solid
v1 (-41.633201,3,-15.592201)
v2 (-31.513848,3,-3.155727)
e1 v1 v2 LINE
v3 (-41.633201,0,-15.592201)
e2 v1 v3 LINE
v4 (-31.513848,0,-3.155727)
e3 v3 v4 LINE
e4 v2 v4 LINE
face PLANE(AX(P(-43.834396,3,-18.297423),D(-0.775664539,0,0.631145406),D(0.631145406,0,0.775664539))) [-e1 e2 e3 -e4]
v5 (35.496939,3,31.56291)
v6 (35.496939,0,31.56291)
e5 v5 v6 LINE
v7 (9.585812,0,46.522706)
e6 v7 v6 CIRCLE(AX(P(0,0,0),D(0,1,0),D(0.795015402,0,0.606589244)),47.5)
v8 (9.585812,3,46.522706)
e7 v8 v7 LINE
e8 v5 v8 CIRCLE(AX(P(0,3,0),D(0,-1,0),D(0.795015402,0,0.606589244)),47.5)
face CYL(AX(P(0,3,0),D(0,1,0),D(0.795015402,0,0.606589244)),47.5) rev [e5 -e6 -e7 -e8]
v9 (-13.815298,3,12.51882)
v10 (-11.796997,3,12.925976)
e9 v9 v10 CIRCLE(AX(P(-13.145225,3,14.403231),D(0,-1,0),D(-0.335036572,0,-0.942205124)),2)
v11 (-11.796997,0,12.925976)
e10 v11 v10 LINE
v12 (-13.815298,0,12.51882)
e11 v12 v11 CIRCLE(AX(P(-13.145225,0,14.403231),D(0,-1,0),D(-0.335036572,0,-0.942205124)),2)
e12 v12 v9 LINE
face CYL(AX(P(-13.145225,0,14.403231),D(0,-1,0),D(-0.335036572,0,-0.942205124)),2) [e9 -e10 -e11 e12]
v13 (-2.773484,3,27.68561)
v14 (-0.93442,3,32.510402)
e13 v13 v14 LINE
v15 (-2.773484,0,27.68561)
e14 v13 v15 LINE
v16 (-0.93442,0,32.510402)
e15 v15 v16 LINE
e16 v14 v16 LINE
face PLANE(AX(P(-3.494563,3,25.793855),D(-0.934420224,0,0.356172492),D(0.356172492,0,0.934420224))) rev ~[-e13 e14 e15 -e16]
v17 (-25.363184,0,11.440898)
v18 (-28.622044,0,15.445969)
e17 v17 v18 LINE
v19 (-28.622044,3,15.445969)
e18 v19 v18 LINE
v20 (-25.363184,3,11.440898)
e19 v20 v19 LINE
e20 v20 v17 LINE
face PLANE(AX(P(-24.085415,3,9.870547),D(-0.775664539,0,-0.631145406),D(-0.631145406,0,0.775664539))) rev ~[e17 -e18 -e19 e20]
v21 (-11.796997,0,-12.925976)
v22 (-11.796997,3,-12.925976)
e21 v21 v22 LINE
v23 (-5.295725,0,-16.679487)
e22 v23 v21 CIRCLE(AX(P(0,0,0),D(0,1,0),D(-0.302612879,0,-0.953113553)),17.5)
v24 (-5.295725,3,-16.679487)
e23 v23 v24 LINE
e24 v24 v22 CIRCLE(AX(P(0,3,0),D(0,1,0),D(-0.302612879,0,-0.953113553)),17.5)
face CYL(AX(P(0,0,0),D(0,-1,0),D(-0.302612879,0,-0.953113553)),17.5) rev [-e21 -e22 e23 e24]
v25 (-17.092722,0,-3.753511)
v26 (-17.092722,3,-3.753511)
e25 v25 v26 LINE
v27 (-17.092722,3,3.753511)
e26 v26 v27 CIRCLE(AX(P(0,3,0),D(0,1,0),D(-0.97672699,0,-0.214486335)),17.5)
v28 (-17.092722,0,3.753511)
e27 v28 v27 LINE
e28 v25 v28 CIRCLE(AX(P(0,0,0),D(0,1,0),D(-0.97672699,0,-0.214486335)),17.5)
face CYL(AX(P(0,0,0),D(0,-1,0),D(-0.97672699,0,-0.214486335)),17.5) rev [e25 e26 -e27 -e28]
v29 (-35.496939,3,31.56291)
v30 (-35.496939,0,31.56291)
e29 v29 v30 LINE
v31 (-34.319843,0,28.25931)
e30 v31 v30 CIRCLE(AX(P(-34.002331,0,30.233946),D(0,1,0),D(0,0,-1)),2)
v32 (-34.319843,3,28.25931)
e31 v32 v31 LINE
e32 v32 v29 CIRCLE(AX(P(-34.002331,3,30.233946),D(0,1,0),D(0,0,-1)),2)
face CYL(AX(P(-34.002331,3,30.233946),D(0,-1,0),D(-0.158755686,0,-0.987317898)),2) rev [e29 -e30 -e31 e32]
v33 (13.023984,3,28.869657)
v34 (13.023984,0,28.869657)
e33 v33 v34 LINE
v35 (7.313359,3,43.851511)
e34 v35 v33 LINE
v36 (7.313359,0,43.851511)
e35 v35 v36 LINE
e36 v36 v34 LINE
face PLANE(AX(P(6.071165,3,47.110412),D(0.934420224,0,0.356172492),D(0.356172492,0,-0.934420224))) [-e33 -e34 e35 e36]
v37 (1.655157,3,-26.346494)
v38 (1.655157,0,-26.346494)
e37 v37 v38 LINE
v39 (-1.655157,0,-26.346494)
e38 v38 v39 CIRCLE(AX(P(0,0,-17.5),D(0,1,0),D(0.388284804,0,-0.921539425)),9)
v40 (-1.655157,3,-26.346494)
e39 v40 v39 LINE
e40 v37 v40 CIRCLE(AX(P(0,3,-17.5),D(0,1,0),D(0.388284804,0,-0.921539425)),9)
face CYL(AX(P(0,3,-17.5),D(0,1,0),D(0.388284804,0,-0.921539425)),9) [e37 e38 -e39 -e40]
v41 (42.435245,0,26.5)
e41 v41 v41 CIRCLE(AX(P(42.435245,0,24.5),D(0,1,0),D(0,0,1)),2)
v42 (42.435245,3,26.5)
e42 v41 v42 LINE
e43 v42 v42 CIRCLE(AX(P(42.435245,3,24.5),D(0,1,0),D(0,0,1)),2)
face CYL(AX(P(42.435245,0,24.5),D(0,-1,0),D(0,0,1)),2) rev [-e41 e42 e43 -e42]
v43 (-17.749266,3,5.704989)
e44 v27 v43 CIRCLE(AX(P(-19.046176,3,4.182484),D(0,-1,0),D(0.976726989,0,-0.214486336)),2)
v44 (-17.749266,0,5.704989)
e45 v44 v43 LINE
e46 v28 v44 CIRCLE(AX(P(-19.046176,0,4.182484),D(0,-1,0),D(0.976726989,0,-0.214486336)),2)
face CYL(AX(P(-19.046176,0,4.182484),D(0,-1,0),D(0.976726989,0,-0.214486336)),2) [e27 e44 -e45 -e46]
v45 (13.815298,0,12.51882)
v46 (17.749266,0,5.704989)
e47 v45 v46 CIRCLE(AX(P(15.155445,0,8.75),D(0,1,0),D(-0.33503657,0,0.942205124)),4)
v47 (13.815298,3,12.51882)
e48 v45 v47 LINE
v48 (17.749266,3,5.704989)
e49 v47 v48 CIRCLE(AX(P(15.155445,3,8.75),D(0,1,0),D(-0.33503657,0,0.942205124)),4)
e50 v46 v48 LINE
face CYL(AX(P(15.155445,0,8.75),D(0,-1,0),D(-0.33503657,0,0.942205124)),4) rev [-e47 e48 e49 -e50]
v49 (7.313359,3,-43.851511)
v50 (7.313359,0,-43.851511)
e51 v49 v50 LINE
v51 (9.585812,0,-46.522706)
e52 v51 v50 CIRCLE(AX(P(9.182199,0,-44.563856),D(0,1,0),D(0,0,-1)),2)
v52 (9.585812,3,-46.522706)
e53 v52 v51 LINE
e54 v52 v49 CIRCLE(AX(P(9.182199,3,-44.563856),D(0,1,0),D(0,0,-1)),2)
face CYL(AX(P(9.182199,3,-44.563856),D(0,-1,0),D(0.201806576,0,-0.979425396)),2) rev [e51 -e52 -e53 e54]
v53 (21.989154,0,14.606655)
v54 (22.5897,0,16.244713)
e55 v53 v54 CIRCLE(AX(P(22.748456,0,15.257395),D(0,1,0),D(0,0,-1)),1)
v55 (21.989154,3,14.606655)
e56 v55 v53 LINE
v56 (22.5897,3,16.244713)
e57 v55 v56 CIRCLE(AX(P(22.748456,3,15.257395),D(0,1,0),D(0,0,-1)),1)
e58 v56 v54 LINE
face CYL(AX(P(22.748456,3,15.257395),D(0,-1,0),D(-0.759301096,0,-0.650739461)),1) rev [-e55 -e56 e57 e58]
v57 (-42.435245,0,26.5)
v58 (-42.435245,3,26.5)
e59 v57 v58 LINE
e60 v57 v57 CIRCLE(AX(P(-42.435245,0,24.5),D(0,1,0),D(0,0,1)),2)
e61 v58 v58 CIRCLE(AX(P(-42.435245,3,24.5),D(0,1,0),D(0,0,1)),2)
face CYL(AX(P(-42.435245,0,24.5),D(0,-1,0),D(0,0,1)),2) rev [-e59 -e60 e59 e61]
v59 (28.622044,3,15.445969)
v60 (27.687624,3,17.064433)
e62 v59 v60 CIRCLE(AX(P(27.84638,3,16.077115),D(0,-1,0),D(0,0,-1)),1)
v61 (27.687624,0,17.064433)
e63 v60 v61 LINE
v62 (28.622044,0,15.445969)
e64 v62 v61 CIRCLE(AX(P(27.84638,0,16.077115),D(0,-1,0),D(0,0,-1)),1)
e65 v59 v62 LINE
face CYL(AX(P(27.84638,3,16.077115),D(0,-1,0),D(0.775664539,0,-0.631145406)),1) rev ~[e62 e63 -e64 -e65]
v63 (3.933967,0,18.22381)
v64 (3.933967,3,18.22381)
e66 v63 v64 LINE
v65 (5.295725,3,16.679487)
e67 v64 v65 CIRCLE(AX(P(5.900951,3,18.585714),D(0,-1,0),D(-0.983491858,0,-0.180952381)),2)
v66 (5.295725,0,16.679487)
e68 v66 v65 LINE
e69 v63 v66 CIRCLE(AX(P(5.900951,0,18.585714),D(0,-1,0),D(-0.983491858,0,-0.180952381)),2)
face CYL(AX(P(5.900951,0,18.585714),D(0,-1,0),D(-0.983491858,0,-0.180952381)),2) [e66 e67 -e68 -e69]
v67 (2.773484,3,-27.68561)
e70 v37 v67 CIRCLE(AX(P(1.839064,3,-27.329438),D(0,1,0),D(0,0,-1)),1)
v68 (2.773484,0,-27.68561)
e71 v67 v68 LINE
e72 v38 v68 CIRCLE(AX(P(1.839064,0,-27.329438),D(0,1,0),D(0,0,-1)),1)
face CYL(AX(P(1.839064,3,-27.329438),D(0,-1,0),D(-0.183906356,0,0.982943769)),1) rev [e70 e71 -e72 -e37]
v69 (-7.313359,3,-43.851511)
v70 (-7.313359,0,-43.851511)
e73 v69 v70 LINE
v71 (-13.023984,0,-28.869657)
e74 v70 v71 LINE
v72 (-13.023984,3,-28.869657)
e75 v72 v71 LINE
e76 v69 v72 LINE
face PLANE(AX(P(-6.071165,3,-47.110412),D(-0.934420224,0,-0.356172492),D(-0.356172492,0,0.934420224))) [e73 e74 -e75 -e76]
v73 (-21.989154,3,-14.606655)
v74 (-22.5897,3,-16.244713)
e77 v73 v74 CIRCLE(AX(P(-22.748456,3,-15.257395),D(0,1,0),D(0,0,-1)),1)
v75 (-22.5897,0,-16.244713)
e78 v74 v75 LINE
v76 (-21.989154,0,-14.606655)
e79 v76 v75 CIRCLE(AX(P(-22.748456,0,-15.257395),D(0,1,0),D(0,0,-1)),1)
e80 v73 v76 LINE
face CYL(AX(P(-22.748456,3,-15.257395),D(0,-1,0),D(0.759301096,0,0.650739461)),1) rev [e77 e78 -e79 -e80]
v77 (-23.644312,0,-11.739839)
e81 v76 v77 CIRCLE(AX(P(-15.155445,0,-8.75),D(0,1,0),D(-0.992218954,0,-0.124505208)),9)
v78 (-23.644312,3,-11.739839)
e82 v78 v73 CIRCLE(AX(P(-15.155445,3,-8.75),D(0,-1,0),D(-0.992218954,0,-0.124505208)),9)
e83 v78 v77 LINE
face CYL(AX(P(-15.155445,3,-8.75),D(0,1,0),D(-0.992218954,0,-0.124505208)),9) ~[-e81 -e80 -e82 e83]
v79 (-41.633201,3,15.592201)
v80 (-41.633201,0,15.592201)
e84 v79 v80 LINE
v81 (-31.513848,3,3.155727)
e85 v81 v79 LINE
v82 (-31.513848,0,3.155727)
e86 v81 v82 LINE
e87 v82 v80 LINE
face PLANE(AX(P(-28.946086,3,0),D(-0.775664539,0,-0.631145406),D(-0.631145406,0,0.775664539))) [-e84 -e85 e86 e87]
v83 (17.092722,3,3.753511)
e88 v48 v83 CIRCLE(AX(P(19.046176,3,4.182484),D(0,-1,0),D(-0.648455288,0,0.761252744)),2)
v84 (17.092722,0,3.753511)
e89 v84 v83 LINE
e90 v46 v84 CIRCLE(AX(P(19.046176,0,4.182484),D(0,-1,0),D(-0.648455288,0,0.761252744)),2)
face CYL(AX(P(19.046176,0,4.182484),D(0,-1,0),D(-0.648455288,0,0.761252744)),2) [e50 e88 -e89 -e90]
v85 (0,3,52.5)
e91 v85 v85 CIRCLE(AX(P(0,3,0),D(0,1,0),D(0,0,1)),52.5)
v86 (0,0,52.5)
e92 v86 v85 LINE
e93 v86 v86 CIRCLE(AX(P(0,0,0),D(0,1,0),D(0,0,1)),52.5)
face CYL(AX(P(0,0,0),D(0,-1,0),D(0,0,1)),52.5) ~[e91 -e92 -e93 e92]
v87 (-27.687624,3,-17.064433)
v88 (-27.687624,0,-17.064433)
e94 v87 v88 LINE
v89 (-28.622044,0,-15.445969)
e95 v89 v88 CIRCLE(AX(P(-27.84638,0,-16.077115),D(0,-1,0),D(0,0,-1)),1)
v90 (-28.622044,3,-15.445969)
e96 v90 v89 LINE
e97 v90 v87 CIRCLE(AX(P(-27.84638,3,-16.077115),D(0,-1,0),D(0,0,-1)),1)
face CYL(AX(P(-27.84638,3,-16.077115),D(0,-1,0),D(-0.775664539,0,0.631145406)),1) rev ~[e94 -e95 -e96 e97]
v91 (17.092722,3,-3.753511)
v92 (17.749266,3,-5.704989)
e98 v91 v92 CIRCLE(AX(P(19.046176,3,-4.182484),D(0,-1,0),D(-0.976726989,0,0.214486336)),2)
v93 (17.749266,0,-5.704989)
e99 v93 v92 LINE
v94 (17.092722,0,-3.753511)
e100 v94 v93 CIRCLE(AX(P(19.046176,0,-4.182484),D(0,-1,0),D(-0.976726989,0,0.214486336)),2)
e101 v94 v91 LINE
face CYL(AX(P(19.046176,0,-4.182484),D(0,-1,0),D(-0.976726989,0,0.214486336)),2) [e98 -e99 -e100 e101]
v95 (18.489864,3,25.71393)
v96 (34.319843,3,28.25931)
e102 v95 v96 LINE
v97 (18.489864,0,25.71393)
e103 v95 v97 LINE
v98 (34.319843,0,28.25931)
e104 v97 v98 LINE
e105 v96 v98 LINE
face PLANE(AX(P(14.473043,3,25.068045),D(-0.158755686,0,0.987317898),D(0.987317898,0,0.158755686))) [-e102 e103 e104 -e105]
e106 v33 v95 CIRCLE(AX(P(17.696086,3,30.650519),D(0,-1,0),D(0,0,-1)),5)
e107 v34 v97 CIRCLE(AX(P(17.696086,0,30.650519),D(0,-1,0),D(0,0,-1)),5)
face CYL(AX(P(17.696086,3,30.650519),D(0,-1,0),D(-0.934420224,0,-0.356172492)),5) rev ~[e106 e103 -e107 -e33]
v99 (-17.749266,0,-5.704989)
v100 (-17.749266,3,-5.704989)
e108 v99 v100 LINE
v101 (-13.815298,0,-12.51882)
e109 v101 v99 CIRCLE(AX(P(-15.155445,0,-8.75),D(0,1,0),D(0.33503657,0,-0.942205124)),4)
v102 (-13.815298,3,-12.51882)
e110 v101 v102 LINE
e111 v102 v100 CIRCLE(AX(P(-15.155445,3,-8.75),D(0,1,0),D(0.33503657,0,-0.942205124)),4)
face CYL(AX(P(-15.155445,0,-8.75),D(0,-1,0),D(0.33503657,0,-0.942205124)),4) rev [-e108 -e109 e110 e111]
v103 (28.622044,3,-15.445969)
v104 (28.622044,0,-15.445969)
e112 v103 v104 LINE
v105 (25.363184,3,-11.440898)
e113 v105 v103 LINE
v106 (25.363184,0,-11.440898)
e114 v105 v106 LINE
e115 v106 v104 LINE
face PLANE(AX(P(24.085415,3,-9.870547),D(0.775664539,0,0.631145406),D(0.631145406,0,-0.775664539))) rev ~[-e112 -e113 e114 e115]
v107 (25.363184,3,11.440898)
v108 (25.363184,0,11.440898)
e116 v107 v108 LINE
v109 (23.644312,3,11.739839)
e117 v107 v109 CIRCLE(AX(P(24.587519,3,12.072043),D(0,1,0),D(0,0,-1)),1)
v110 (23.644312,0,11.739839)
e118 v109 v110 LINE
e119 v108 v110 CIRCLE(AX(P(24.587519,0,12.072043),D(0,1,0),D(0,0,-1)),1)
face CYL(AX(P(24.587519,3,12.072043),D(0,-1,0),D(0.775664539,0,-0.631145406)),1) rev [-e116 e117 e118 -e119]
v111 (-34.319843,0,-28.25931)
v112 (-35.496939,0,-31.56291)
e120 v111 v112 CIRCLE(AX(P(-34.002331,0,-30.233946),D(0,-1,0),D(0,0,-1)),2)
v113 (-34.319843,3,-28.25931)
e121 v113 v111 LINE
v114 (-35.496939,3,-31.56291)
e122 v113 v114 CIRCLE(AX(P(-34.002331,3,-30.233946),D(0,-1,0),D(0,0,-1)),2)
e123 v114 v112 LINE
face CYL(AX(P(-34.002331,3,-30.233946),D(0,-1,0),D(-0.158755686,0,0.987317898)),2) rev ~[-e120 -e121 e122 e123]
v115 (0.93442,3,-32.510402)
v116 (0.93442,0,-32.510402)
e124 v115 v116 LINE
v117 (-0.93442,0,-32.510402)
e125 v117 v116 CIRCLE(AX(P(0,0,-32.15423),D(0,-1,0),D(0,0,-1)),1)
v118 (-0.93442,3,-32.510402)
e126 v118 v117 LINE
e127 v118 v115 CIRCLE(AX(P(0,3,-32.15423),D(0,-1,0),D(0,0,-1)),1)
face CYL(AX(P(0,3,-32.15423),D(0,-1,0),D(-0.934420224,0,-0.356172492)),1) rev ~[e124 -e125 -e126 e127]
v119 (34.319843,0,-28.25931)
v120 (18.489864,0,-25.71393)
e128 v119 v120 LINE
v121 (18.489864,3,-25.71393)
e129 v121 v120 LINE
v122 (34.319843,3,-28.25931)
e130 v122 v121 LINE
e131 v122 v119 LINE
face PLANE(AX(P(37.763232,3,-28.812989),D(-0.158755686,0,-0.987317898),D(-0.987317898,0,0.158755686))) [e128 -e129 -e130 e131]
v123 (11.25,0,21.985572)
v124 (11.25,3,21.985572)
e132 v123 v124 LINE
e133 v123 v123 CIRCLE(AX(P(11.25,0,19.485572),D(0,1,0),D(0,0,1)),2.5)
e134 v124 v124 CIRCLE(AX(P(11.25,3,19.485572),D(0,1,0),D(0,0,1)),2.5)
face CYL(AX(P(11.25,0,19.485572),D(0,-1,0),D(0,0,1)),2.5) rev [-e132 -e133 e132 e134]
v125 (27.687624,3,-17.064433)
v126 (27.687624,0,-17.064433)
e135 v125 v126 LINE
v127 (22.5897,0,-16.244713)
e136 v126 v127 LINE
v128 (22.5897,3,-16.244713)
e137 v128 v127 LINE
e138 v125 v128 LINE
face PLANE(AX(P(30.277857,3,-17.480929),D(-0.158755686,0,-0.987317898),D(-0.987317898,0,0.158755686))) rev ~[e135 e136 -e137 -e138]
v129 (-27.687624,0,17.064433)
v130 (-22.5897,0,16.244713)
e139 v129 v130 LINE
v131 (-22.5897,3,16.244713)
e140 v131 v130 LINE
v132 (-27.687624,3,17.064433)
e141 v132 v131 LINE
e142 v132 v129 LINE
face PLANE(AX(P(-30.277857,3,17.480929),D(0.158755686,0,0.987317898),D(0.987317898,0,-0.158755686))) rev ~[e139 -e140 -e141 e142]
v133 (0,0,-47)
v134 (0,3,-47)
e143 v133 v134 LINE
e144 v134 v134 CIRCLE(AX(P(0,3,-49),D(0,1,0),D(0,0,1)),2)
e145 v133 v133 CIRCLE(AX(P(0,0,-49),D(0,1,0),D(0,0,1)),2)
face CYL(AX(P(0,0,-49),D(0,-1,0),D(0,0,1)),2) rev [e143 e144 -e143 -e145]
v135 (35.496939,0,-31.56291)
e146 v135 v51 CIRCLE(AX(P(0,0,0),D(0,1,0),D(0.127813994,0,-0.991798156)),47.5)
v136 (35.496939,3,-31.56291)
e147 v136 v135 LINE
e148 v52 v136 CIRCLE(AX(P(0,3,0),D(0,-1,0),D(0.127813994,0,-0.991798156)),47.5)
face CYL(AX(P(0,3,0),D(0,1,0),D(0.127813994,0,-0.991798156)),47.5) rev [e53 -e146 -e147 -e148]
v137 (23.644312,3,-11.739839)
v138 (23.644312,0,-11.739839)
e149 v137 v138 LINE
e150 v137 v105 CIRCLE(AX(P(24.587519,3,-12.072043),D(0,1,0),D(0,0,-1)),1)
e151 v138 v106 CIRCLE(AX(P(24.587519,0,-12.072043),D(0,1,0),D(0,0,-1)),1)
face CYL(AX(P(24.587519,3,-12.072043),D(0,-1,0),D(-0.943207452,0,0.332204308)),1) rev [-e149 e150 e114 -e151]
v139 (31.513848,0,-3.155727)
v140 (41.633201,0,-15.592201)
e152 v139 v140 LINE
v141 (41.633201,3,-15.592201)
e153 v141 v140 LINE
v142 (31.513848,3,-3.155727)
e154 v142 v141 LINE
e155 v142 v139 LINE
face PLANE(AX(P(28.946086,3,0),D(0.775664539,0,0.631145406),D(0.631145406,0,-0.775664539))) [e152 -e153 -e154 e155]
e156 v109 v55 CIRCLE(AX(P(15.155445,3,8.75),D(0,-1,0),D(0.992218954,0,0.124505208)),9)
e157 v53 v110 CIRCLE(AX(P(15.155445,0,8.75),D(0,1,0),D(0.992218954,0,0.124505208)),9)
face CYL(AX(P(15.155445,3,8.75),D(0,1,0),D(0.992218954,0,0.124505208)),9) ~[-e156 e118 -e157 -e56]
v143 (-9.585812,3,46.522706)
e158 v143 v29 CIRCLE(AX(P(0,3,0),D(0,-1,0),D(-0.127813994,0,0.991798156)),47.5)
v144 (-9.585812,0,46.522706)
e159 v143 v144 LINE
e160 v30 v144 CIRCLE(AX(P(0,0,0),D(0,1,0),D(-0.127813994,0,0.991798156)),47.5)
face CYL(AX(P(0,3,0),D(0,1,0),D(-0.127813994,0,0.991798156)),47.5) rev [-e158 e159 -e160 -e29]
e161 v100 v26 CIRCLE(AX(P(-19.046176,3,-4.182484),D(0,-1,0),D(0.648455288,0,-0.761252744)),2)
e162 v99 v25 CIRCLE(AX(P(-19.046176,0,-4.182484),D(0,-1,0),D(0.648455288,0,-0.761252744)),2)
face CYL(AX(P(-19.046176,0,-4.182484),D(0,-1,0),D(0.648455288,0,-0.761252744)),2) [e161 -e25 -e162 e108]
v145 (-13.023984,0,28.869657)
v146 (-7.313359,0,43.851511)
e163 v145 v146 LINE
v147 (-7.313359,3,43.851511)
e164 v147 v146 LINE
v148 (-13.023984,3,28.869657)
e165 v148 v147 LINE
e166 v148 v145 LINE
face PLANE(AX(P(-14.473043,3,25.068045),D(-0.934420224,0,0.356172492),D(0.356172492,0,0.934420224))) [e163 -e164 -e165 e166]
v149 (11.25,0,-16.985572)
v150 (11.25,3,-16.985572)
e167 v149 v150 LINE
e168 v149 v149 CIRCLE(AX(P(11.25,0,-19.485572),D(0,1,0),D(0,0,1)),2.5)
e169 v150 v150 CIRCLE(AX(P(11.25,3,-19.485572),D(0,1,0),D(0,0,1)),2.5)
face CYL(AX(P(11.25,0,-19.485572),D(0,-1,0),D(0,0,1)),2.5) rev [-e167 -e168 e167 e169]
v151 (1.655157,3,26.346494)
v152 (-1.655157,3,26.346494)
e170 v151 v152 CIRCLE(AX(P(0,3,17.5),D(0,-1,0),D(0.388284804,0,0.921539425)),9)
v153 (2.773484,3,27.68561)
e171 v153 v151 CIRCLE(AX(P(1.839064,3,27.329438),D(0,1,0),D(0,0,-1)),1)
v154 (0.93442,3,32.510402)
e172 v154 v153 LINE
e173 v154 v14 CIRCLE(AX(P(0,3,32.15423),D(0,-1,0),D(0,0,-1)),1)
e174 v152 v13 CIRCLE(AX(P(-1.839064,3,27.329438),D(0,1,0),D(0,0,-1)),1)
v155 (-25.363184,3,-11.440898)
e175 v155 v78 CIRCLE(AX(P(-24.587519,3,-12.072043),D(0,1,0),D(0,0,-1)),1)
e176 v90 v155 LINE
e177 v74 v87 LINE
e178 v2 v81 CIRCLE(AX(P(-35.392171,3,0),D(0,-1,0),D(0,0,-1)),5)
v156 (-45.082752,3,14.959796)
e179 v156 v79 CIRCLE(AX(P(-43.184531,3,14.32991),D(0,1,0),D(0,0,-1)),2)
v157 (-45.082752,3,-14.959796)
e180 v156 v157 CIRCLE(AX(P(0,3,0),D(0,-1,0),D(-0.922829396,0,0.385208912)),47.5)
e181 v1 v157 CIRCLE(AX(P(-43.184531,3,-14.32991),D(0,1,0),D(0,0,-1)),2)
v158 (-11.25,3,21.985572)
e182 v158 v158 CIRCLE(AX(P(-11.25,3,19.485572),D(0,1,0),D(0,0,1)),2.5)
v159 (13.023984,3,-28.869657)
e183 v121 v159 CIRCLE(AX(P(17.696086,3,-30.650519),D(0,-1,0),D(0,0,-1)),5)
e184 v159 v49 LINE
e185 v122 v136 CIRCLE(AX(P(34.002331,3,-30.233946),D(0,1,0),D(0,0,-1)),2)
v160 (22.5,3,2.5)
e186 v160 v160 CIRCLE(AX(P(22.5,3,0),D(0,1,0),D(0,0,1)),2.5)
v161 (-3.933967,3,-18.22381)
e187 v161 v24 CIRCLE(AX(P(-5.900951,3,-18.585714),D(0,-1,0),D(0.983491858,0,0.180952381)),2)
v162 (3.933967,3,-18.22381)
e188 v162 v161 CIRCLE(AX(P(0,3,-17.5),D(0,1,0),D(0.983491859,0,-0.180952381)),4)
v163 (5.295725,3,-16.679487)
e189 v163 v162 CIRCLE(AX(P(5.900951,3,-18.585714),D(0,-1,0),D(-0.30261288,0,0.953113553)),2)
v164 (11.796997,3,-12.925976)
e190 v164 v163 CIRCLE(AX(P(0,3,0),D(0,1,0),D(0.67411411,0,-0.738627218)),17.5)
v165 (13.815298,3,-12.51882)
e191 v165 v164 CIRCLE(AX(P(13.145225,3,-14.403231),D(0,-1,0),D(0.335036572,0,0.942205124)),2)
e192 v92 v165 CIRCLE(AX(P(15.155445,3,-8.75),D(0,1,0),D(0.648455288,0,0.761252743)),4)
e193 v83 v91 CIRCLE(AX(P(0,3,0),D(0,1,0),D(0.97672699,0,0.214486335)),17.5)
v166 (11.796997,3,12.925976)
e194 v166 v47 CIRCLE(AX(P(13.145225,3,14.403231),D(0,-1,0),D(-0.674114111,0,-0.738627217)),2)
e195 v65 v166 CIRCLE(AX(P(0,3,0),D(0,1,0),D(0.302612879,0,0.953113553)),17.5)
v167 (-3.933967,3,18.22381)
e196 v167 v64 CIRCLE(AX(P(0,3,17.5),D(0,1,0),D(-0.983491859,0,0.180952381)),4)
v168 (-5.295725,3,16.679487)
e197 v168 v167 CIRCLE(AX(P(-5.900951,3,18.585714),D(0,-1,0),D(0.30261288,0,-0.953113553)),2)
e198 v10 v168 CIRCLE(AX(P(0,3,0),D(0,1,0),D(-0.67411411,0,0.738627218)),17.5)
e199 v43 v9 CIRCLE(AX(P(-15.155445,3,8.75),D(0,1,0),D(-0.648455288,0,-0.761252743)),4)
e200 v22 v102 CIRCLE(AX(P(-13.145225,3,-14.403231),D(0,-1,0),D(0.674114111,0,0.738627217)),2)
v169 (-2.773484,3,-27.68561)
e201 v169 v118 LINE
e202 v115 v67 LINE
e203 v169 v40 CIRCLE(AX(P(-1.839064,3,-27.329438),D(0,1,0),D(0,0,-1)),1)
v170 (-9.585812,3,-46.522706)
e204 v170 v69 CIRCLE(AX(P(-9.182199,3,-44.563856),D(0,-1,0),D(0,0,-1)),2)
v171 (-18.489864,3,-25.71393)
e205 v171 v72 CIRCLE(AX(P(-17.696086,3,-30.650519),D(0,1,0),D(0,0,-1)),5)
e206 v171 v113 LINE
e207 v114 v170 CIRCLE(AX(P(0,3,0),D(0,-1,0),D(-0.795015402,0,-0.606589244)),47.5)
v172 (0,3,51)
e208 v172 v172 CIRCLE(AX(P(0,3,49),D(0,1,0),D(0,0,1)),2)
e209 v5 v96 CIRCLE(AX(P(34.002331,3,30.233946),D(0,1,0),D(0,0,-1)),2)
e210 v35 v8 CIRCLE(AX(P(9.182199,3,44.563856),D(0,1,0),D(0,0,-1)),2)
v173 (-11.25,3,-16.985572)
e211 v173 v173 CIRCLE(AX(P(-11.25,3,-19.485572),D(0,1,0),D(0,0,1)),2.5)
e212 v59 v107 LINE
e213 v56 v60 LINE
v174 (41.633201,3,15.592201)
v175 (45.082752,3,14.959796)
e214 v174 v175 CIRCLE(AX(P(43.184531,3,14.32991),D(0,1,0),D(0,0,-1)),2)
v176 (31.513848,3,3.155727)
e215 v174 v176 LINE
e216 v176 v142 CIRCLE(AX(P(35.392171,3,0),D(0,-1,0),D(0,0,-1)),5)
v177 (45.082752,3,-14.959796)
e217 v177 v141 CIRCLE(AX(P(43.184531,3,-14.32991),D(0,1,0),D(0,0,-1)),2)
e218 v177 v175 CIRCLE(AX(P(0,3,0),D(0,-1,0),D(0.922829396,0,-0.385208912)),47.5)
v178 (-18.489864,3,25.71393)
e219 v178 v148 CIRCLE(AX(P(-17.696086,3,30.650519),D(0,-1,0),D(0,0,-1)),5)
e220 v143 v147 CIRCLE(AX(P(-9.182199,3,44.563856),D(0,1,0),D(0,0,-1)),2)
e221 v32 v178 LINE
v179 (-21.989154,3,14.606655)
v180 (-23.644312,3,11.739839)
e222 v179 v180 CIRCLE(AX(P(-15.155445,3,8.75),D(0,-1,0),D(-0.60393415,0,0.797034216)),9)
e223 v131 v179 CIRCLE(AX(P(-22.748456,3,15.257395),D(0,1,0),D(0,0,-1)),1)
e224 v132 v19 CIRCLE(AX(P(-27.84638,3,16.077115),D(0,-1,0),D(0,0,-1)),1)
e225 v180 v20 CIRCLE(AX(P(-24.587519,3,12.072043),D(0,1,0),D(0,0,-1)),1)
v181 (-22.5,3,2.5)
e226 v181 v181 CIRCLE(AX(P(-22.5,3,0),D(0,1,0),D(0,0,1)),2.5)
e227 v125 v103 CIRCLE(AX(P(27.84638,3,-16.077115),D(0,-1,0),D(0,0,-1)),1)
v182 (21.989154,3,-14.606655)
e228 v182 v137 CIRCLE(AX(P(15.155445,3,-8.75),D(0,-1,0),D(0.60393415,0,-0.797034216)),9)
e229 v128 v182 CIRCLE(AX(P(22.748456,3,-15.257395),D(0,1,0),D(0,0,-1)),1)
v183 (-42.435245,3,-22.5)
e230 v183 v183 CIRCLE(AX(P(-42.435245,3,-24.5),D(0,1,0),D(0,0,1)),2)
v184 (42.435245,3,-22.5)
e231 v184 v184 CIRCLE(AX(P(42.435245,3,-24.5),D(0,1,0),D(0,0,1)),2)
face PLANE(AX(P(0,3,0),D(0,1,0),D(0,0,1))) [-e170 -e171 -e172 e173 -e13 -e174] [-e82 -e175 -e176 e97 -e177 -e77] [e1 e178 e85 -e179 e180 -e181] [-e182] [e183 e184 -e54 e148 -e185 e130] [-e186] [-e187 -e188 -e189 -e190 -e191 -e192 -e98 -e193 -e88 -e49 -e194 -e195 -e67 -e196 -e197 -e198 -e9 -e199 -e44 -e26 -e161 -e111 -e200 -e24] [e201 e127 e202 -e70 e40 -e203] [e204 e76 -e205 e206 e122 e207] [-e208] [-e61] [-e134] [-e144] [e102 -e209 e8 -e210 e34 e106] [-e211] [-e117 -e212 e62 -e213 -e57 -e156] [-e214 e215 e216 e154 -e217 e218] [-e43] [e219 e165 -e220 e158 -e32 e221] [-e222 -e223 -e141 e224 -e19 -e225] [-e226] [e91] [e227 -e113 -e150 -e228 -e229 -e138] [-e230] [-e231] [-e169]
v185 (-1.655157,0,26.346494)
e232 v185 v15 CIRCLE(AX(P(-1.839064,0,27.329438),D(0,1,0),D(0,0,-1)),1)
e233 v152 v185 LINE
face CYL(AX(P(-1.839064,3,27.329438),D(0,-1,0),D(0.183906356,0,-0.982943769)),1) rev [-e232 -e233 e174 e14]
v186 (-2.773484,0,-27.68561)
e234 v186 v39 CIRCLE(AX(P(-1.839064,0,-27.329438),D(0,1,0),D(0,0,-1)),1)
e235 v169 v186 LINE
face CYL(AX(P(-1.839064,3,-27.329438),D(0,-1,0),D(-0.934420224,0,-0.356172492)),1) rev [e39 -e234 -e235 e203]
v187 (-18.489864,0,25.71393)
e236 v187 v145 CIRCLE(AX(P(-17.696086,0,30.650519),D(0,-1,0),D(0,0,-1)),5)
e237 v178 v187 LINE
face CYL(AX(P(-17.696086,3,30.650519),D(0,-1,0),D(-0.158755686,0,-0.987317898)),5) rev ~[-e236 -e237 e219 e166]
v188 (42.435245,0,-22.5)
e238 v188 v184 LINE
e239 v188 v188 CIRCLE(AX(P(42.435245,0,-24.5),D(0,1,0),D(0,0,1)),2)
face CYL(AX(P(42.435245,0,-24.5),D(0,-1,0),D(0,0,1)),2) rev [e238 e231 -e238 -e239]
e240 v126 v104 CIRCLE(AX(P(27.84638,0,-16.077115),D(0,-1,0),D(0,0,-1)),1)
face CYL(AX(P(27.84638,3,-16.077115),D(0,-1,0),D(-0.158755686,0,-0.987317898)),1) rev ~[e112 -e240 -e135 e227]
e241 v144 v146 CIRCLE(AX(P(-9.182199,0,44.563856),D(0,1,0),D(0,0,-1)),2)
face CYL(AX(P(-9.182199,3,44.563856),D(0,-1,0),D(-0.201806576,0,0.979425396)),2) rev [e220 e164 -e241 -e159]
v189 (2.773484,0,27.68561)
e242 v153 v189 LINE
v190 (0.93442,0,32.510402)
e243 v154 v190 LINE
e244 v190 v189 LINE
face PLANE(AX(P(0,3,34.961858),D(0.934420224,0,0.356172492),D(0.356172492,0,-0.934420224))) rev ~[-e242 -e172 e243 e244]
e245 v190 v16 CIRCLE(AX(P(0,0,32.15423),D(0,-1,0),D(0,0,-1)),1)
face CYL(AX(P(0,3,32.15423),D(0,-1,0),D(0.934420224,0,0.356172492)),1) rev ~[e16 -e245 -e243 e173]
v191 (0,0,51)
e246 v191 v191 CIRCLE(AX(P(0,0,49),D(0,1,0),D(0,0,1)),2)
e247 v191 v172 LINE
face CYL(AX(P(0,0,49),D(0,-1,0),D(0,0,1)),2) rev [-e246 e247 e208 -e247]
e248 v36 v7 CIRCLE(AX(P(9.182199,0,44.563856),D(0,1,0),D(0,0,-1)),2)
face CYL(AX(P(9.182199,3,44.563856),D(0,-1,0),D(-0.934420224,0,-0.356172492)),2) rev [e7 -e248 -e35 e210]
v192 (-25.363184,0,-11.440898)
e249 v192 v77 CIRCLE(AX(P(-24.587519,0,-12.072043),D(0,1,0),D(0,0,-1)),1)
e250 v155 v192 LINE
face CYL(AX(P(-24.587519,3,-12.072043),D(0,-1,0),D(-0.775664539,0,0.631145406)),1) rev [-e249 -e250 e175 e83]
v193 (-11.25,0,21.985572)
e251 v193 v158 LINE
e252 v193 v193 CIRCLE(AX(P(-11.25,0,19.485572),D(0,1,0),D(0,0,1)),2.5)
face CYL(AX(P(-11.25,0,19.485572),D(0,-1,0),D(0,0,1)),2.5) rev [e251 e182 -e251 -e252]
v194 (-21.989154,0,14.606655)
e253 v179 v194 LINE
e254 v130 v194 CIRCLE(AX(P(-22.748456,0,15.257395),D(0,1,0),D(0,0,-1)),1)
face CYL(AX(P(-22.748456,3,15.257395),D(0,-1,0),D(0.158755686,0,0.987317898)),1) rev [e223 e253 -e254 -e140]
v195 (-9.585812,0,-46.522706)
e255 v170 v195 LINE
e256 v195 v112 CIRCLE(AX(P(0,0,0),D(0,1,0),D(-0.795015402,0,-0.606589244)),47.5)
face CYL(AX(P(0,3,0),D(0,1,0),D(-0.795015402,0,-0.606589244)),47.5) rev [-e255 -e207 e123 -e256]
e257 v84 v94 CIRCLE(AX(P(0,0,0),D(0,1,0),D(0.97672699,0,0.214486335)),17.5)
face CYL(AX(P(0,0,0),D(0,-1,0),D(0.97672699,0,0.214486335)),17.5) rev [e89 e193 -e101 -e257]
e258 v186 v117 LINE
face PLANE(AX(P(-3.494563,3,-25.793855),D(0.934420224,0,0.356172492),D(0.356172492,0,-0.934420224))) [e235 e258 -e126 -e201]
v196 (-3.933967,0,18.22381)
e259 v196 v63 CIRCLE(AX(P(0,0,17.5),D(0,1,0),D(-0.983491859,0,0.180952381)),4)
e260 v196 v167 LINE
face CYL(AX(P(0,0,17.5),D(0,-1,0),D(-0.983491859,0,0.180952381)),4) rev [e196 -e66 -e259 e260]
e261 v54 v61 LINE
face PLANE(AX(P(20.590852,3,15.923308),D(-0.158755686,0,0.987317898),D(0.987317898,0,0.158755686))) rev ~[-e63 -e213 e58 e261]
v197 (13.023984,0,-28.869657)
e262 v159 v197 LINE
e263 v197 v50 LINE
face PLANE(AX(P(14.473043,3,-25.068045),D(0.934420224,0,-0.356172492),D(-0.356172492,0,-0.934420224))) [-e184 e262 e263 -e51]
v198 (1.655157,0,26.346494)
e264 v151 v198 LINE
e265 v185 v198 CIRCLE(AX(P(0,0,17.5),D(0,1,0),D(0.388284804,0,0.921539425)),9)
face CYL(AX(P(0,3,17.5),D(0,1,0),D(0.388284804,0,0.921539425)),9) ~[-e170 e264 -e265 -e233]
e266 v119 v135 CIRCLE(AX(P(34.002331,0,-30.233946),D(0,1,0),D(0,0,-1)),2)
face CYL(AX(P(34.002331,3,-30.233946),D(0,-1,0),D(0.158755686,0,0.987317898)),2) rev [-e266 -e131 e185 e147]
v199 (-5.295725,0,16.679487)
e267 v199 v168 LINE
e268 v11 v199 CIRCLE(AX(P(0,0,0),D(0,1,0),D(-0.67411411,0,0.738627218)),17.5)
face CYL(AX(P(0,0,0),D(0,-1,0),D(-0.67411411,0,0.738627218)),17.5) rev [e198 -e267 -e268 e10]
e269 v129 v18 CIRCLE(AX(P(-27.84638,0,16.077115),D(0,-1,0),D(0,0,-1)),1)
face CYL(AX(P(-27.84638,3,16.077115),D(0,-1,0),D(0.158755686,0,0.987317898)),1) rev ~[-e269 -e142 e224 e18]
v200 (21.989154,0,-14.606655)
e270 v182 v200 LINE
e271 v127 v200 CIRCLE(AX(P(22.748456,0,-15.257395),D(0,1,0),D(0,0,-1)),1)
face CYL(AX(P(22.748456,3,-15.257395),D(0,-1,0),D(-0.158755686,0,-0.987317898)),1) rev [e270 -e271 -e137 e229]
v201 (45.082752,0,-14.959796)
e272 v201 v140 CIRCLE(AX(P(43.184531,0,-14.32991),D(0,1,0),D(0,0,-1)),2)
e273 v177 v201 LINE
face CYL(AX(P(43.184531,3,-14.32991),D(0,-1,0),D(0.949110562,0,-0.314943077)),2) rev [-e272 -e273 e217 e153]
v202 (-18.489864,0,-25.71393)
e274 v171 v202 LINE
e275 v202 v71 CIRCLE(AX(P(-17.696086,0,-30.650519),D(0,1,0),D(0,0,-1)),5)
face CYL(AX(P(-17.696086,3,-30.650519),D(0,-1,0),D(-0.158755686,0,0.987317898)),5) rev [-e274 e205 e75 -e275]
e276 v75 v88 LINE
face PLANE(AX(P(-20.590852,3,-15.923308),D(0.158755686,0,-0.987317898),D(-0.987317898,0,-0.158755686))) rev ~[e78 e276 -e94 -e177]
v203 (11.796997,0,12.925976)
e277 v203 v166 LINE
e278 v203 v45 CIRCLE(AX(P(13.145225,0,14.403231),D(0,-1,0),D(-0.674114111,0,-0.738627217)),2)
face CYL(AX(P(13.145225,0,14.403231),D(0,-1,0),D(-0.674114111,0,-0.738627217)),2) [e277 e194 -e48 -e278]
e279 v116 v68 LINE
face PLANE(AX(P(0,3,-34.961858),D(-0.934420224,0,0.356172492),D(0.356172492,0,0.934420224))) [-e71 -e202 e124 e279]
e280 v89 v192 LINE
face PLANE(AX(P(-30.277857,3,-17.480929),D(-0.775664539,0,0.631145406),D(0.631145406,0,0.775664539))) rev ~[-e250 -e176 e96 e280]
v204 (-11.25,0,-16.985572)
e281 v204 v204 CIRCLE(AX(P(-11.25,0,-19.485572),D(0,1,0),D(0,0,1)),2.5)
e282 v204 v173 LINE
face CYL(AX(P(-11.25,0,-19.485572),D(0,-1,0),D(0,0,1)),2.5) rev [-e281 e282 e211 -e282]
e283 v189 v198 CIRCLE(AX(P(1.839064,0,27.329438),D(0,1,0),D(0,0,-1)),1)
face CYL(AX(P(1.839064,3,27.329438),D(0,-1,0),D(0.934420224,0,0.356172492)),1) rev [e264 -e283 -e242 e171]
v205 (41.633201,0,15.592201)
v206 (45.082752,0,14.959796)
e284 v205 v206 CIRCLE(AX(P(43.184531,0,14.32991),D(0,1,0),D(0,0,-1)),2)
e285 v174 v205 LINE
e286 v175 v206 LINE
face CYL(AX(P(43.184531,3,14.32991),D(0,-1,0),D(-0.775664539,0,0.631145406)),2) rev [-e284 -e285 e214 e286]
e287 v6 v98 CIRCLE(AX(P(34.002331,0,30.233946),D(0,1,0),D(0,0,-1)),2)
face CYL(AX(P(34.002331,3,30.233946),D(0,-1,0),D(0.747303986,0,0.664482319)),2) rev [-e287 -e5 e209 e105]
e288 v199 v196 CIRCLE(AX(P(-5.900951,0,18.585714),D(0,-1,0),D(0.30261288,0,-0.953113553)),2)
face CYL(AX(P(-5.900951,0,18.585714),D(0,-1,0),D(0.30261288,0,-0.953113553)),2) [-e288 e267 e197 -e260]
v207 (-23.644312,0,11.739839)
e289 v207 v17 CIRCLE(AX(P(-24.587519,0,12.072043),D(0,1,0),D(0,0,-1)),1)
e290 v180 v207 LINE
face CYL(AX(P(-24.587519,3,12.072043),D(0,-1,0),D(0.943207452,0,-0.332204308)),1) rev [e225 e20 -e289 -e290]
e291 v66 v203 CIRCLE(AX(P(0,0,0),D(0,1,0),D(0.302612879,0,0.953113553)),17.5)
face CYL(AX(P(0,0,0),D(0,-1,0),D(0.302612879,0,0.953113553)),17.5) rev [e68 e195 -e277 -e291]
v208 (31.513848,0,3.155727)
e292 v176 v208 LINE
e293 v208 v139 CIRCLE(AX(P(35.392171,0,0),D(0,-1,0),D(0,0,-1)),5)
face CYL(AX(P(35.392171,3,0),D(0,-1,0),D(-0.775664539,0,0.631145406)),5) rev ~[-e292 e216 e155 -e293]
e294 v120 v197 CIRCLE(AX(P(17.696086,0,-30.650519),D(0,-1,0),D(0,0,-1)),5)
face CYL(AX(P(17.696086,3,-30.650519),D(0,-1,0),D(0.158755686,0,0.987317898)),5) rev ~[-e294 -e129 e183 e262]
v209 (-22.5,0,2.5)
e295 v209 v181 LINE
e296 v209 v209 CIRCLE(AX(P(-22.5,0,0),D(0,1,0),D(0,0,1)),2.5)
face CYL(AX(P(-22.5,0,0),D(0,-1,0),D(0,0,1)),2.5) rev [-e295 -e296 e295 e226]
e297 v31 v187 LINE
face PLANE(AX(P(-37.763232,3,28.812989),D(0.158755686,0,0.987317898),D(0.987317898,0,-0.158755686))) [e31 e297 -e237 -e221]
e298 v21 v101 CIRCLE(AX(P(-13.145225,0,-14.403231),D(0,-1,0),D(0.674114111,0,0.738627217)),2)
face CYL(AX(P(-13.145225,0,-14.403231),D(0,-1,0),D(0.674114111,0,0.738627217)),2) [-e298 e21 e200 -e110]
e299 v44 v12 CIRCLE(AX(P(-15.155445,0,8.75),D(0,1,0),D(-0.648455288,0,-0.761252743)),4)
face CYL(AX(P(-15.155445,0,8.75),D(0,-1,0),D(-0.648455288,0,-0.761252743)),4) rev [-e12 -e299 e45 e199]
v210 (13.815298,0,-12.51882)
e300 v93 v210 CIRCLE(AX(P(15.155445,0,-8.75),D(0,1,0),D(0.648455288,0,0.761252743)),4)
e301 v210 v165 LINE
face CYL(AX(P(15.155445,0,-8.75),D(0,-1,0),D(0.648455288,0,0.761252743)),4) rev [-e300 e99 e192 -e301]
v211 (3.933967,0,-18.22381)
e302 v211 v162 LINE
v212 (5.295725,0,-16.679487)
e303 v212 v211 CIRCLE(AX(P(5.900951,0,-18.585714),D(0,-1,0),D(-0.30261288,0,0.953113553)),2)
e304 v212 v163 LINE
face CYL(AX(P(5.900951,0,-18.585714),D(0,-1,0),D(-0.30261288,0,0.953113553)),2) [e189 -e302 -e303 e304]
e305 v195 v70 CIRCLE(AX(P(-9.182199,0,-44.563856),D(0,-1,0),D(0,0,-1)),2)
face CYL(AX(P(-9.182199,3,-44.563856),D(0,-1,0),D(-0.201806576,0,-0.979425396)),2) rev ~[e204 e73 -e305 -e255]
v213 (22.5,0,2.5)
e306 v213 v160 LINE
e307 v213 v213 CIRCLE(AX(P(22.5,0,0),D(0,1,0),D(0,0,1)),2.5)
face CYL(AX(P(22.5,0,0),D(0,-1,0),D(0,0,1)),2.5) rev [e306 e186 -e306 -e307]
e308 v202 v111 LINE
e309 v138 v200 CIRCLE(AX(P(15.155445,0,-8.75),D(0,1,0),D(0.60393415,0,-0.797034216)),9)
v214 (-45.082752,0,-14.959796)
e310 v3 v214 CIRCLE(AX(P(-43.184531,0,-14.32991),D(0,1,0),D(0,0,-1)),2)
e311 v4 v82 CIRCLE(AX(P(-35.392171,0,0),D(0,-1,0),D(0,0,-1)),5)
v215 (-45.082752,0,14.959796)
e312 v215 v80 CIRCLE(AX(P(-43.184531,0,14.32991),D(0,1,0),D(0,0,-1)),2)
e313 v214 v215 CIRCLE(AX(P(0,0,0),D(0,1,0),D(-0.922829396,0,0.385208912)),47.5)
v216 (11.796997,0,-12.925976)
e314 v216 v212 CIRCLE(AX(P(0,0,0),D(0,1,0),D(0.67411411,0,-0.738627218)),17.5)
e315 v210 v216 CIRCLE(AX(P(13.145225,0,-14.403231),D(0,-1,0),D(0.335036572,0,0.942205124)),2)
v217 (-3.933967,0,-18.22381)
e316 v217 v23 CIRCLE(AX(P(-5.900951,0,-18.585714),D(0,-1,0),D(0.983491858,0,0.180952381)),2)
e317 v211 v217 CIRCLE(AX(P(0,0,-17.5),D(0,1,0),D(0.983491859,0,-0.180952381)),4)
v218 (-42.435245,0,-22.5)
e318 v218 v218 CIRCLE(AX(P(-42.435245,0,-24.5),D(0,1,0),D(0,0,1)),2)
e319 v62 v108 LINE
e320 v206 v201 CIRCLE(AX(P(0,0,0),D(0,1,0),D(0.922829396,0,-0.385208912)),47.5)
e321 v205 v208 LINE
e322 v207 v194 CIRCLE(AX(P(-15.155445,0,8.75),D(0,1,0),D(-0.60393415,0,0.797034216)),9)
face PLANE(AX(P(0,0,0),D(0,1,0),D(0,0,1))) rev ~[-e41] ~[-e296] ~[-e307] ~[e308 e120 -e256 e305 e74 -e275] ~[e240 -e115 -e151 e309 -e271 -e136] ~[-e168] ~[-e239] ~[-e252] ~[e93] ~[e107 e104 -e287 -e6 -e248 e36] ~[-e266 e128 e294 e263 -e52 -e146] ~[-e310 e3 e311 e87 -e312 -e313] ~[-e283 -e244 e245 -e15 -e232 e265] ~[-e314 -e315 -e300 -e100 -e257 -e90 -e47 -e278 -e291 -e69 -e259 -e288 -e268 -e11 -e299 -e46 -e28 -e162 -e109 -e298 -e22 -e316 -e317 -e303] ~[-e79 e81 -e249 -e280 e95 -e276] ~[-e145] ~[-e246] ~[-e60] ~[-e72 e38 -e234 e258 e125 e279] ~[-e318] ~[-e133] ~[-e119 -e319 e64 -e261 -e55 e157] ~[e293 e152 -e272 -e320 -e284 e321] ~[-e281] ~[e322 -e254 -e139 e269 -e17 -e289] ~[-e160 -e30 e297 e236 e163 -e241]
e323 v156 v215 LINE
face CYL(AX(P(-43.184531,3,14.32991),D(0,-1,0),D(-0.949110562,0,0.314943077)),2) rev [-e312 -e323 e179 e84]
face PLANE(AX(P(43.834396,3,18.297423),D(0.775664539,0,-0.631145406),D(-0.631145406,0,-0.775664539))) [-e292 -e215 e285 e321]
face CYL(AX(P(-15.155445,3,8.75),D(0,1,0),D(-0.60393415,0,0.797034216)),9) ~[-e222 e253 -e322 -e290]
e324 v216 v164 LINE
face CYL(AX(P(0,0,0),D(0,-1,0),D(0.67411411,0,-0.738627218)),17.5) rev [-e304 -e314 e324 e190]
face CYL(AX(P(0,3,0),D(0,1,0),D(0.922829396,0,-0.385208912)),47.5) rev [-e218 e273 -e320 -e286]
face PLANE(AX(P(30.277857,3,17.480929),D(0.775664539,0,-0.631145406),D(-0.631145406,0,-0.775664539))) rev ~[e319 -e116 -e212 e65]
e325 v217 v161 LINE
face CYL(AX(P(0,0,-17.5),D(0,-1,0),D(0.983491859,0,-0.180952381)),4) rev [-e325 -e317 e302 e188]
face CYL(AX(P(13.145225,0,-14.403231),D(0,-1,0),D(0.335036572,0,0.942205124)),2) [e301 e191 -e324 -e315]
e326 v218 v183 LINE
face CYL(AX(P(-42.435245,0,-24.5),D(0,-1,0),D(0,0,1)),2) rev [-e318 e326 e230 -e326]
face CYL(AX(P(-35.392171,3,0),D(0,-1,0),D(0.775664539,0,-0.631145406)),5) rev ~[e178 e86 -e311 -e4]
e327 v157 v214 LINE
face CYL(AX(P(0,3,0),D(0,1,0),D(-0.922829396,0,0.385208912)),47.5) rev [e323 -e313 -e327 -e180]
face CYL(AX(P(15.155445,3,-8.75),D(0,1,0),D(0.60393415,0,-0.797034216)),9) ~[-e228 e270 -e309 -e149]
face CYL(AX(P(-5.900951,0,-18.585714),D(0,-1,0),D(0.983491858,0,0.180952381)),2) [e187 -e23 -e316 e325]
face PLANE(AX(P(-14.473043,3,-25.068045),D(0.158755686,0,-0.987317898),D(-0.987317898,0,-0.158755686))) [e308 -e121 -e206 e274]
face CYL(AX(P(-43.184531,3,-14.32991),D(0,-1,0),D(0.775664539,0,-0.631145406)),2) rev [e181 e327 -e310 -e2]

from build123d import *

# Parameters (mm, degrees)
SKETCH_1_R          = 52.5
SKETCH_1_R_2        = 2
SKETCH_1_R_3        = 2.5
EXTRUDE_1_DEPTH     = 3
CUT_EXTRUDE_1_DEPTH = 75.306796459
FILLET_1_R          = 5
FILLET_2_R          = 1
FILLET_3_R          = 2


with BuildPart() as part:
    # 草图1 → 凸台-拉伸1 (new body)
    with BuildSketch(Plane(origin=(0, 0, 0), x_dir=(1, 0, 0), z_dir=(0, 1, 0))):
        with Locations(Location((0, 0, 0), (0, 0, 270))):
            Circle(SKETCH_1_R)
        with Locations(Location((0, 49, 0), (0, 0, 270))):
            Circle(SKETCH_1_R_2, mode=Mode.SUBTRACT)
        with Locations(Location((-11.25, 19.485571585, 0), (0, 0, 270))):
            Circle(SKETCH_1_R_3, mode=Mode.SUBTRACT)
        with Locations(Location((42.435244785, 24.5, 0), (0, 0, 270))):
            Circle(SKETCH_1_R_2, mode=Mode.SUBTRACT)
        with Locations(Location((11.25, 19.485571585, 0), (0, 0, 270))):
            Circle(SKETCH_1_R_3, mode=Mode.SUBTRACT)
        with Locations(Location((42.435244785, -24.5, 0), (0, 0, 270))):
            Circle(SKETCH_1_R_2, mode=Mode.SUBTRACT)
        with Locations(Location((22.5, 0, 0), (0, 0, 270))):
            Circle(SKETCH_1_R_3, mode=Mode.SUBTRACT)
        with Locations(Location((0, -49, 0), (0, 0, 270))):
            Circle(SKETCH_1_R_2, mode=Mode.SUBTRACT)
        with Locations(Location((11.25, -19.485571585, 0), (0, 0, 270))):
            Circle(SKETCH_1_R_3, mode=Mode.SUBTRACT)
        with Locations(Location((-42.435244785, -24.5, 0), (0, 0, 270))):
            Circle(SKETCH_1_R_2, mode=Mode.SUBTRACT)
        with Locations(Location((-11.25, -19.485571585, 0), (0, 0, 270))):
            Circle(SKETCH_1_R_3, mode=Mode.SUBTRACT)
        with Locations(Location((-42.435244785, 24.5, 0), (0, 0, 270))):
            Circle(SKETCH_1_R_2, mode=Mode.SUBTRACT)
        with Locations(Location((-22.5, 0, 0), (0, 0, 270))):
            Circle(SKETCH_1_R_3, mode=Mode.SUBTRACT)
        with BuildLine():
            ThreePointArc((11.796996923, 12.925976311), (8.75, 15.155444566), (5.295725392, 16.679487179))
            ThreePointArc((5.295725392, 16.679487179), (4.40085173, 17.262951372), (3.933967434, 18.223809524))
            ThreePointArc((3.933967434, 18.223809524), (0, 21.5), (-3.933967434, 18.223809524))
            ThreePointArc((-3.933967434, 18.223809524), (-4.40085173, 17.262951372), (-5.295725392, 16.679487179))
            ThreePointArc((-5.295725392, 16.679487179), (-8.75, 15.155444566), (-11.796996923, 12.925976311))
            ThreePointArc((-11.796996923, 12.925976311), (-12.749728567, 12.442725082), (-13.815298284, 12.518820498))
            ThreePointArc((-13.815298284, 12.518820498), (-18.619546181, 10.75), (-17.749265718, 5.704989026))
            ThreePointArc((-17.749265718, 5.704989026), (-17.150580297, 4.820226289), (-17.092722316, 3.753510869))
            ThreePointArc((-17.092722316, 3.753510869), (-17.5, 0), (-17.092722316, -3.753510869))
            ThreePointArc((-17.092722316, -3.753510869), (-17.150580297, -4.820226289), (-17.749265718, -5.704989026))
            ThreePointArc((-17.749265718, -5.704989026), (-18.619546181, -10.75), (-13.815298284, -12.518820498))
            ThreePointArc((-13.815298284, -12.518820498), (-12.749728567, -12.442725082), (-11.796996923, -12.925976311))
            ThreePointArc((-11.796996923, -12.925976311), (-8.75, -15.155444566), (-5.295725392, -16.679487179))
            ThreePointArc((-5.295725392, -16.679487179), (-4.40085173, -17.262951372), (-3.933967434, -18.223809524))
            ThreePointArc((-3.933967434, -18.223809524), (0, -21.5), (3.933967434, -18.223809524))
            ThreePointArc((3.933967434, -18.223809524), (4.40085173, -17.262951372), (5.295725392, -16.679487179))
            ThreePointArc((5.295725392, -16.679487179), (8.75, -15.155444566), (11.796996923, -12.925976311))
            ThreePointArc((11.796996923, -12.925976311), (12.749728567, -12.442725082), (13.815298284, -12.518820498))
            ThreePointArc((13.815298284, -12.518820498), (18.619546181, -10.75), (17.749265718, -5.704989026))
            ThreePointArc((17.749265718, -5.704989026), (17.150580297, -4.820226289), (17.092722316, -3.753510869))
            ThreePointArc((17.092722316, -3.753510869), (17.5, 0), (17.092722316, 3.753510869))
            ThreePointArc((17.092722316, 3.753510869), (17.150580297, 4.820226289), (17.749265718, 5.704989026))
            ThreePointArc((17.749265718, 5.704989026), (18.619546181, 10.75), (13.815298284, 12.518820498))
            ThreePointArc((13.815298284, 12.518820498), (12.749728567, 12.442725082), (11.796996923, 12.925976311))
        make_face(mode=Mode.SUBTRACT)
    extrude(amount=EXTRUDE_1_DEPTH)

    # 草图2 → 切除-拉伸1 (cut, through all)
    with BuildSketch(Plane(origin=(0, 3, 0), x_dir=(1, 0, 0), z_dir=(0, 1, 0))):
        with BuildLine():
            Line((-6.071164737, 47.110412424), (-14.473042792, 25.068045456))
            Line((-14.473042792, 25.068045456), (-37.763231573, 28.812989105))
            ThreePointArc((-37.763231573, 28.812989105), (-23.75, 41.13620668), (-6.071164737, 47.110412424))
        make_face()
        with BuildLine():
            Line((0, 34.961858062), (3.494563236, 25.793854821))
            ThreePointArc((3.494563236, 25.793854821), (0, 26.5), (-3.494563236, 25.793854821))
            Line((-3.494563236, 25.793854821), (0, 34.961858062))
        make_face()
        with BuildLine():
            Line((14.473042792, 25.068045456), (6.071164737, 47.110412424))
            ThreePointArc((6.071164737, 47.110412424), (23.75, 41.13620668), (37.763231573, 28.812989105))
            Line((37.763231573, 28.812989105), (14.473042792, 25.068045456))
        make_face()
        with BuildLine():
            Line((30.277857245, 17.480929031), (20.590851919, 15.923307948))
            ThreePointArc((20.590851919, 15.923307948), (22.9496732, 13.25), (24.085415154, 9.870546873))
            Line((24.085415154, 9.870546873), (30.277857245, 17.480929031))
        make_face()
        with BuildLine():
            Line((28.946085584, 0), (43.83439631, 18.297423319))
            ThreePointArc((43.83439631, 18.297423319), (47.5, 0), (43.83439631, -18.297423319))
            Line((43.83439631, -18.297423319), (28.946085584, 0))
        make_face()
        with BuildLine():
            Line((30.277857245, -17.480929031), (24.085415154, -9.870546873))
            ThreePointArc((24.085415154, -9.870546873), (22.9496732, -13.25), (20.590851919, -15.923307948))
            Line((20.590851919, -15.923307948), (30.277857245, -17.480929031))
        make_face()
        with BuildLine():
            Line((14.473042792, -25.068045456), (37.763231573, -28.812989105))
            ThreePointArc((37.763231573, -28.812989105), (23.75, -41.13620668), (6.071164737, -47.110412424))
            Line((6.071164737, -47.110412424), (14.473042792, -25.068045456))
        make_face()
        with BuildLine():
            Line((0, -34.961858062), (3.494563236, -25.793854821))
            ThreePointArc((3.494563236, -25.793854821), (0, -26.5), (-3.494563236, -25.793854821))
            Line((-3.494563236, -25.793854821), (0, -34.961858062))
        make_face()
        with BuildLine():
            Line((-14.473042792, -25.068045456), (-6.071164737, -47.110412424))
            ThreePointArc((-6.071164737, -47.110412424), (-23.75, -41.13620668), (-37.763231573, -28.812989105))
            Line((-37.763231573, -28.812989105), (-14.473042792, -25.068045456))
        make_face()
        with BuildLine():
            Line((-30.277857245, -17.480929031), (-20.590851919, -15.923307948))
            ThreePointArc((-20.590851919, -15.923307948), (-22.9496732, -13.25), (-24.085415154, -9.870546873))
            Line((-24.085415154, -9.870546873), (-30.277857245, -17.480929031))
        make_face()
        with BuildLine():
            Line((-28.946085584, 0), (-43.83439631, -18.297423319))
            ThreePointArc((-43.83439631, -18.297423319), (-47.5, 0), (-43.83439631, 18.297423319))
            Line((-43.83439631, 18.297423319), (-28.946085584, 0))
        make_face()
        with BuildLine():
            Line((-30.277857245, 17.480929031), (-24.085415154, 9.870546873))
            ThreePointArc((-24.085415154, 9.870546873), (-22.9496732, 13.25), (-20.590851919, 15.923307948))
            Line((-20.590851919, 15.923307948), (-30.277857245, 17.480929031))
        make_face()
    extrude(amount=-CUT_EXTRUDE_1_DEPTH, mode=Mode.SUBTRACT)

    # 圆角1
    fillet_1_edges = [part.edges().sort_by_distance(p)[0] for p in [
        (-14.473042792, 1.5, 25.068045456),
        (14.473042792, 1.5, 25.068045456),
        (28.946085584, 1.5, 0),
        (14.473042792, 1.5, -25.068045456),
        (-28.946085584, 1.5, 0),
        (-14.473042792, 1.5, -25.068045456),
    ]]
    fillet(fillet_1_edges, radius=FILLET_1_R)

    # 圆角2
    fillet_2_edges = [part.edges().sort_by_distance(p)[0] for p in [
        (0, 1.5, 34.961858062),
        (-3.494563236, 1.5, 25.793854821),
        (3.494563236, 1.5, 25.793854821),
        (30.277857245, 1.5, 17.480929031),
        (20.590851919, 1.5, 15.923307948),
        (24.085415154, 1.5, 9.870546873),
        (30.277857245, 1.5, -17.480929031),
        (24.085415154, 1.5, -9.870546873),
        (20.590851919, 1.5, -15.923307948),
        (-3.494563236, 1.5, -25.793854821),
        (0, 1.5, -34.961858062),
        (3.494563236, 1.5, -25.793854821),
        (-30.277857245, 1.5, -17.480929031),
        (-20.590851919, 1.5, -15.923307948),
        (-24.085415154, 1.5, -9.870546873),
        (-30.277857245, 1.5, 17.480929031),
        (-24.085415154, 1.5, 9.870546873),
        (-20.590851919, 1.5, 15.923307948),
    ]]
    fillet(fillet_2_edges, radius=FILLET_2_R)

    # 圆角3
    fillet_3_edges = [part.edges().sort_by_distance(p)[0] for p in [
        (-6.071164737, 1.5, 47.110412424),
        (-37.763231573, 1.5, 28.812989105),
        (37.763231573, 1.5, 28.812989105),
        (6.071164737, 1.5, 47.110412424),
        (43.83439631, 1.5, -18.297423319),
        (43.83439631, 1.5, 18.297423319),
        (6.071164737, 1.5, -47.110412424),
        (37.763231573, 1.5, -28.812989105),
        (-43.83439631, 1.5, 18.297423319),
        (-43.83439631, 1.5, -18.297423319),
        (-37.763231573, 1.5, -28.812989105),
        (-6.071164737, 1.5, -47.110412424),
    ]]
    fillet(fillet_3_edges, radius=FILLET_3_R)


solid = part.part
